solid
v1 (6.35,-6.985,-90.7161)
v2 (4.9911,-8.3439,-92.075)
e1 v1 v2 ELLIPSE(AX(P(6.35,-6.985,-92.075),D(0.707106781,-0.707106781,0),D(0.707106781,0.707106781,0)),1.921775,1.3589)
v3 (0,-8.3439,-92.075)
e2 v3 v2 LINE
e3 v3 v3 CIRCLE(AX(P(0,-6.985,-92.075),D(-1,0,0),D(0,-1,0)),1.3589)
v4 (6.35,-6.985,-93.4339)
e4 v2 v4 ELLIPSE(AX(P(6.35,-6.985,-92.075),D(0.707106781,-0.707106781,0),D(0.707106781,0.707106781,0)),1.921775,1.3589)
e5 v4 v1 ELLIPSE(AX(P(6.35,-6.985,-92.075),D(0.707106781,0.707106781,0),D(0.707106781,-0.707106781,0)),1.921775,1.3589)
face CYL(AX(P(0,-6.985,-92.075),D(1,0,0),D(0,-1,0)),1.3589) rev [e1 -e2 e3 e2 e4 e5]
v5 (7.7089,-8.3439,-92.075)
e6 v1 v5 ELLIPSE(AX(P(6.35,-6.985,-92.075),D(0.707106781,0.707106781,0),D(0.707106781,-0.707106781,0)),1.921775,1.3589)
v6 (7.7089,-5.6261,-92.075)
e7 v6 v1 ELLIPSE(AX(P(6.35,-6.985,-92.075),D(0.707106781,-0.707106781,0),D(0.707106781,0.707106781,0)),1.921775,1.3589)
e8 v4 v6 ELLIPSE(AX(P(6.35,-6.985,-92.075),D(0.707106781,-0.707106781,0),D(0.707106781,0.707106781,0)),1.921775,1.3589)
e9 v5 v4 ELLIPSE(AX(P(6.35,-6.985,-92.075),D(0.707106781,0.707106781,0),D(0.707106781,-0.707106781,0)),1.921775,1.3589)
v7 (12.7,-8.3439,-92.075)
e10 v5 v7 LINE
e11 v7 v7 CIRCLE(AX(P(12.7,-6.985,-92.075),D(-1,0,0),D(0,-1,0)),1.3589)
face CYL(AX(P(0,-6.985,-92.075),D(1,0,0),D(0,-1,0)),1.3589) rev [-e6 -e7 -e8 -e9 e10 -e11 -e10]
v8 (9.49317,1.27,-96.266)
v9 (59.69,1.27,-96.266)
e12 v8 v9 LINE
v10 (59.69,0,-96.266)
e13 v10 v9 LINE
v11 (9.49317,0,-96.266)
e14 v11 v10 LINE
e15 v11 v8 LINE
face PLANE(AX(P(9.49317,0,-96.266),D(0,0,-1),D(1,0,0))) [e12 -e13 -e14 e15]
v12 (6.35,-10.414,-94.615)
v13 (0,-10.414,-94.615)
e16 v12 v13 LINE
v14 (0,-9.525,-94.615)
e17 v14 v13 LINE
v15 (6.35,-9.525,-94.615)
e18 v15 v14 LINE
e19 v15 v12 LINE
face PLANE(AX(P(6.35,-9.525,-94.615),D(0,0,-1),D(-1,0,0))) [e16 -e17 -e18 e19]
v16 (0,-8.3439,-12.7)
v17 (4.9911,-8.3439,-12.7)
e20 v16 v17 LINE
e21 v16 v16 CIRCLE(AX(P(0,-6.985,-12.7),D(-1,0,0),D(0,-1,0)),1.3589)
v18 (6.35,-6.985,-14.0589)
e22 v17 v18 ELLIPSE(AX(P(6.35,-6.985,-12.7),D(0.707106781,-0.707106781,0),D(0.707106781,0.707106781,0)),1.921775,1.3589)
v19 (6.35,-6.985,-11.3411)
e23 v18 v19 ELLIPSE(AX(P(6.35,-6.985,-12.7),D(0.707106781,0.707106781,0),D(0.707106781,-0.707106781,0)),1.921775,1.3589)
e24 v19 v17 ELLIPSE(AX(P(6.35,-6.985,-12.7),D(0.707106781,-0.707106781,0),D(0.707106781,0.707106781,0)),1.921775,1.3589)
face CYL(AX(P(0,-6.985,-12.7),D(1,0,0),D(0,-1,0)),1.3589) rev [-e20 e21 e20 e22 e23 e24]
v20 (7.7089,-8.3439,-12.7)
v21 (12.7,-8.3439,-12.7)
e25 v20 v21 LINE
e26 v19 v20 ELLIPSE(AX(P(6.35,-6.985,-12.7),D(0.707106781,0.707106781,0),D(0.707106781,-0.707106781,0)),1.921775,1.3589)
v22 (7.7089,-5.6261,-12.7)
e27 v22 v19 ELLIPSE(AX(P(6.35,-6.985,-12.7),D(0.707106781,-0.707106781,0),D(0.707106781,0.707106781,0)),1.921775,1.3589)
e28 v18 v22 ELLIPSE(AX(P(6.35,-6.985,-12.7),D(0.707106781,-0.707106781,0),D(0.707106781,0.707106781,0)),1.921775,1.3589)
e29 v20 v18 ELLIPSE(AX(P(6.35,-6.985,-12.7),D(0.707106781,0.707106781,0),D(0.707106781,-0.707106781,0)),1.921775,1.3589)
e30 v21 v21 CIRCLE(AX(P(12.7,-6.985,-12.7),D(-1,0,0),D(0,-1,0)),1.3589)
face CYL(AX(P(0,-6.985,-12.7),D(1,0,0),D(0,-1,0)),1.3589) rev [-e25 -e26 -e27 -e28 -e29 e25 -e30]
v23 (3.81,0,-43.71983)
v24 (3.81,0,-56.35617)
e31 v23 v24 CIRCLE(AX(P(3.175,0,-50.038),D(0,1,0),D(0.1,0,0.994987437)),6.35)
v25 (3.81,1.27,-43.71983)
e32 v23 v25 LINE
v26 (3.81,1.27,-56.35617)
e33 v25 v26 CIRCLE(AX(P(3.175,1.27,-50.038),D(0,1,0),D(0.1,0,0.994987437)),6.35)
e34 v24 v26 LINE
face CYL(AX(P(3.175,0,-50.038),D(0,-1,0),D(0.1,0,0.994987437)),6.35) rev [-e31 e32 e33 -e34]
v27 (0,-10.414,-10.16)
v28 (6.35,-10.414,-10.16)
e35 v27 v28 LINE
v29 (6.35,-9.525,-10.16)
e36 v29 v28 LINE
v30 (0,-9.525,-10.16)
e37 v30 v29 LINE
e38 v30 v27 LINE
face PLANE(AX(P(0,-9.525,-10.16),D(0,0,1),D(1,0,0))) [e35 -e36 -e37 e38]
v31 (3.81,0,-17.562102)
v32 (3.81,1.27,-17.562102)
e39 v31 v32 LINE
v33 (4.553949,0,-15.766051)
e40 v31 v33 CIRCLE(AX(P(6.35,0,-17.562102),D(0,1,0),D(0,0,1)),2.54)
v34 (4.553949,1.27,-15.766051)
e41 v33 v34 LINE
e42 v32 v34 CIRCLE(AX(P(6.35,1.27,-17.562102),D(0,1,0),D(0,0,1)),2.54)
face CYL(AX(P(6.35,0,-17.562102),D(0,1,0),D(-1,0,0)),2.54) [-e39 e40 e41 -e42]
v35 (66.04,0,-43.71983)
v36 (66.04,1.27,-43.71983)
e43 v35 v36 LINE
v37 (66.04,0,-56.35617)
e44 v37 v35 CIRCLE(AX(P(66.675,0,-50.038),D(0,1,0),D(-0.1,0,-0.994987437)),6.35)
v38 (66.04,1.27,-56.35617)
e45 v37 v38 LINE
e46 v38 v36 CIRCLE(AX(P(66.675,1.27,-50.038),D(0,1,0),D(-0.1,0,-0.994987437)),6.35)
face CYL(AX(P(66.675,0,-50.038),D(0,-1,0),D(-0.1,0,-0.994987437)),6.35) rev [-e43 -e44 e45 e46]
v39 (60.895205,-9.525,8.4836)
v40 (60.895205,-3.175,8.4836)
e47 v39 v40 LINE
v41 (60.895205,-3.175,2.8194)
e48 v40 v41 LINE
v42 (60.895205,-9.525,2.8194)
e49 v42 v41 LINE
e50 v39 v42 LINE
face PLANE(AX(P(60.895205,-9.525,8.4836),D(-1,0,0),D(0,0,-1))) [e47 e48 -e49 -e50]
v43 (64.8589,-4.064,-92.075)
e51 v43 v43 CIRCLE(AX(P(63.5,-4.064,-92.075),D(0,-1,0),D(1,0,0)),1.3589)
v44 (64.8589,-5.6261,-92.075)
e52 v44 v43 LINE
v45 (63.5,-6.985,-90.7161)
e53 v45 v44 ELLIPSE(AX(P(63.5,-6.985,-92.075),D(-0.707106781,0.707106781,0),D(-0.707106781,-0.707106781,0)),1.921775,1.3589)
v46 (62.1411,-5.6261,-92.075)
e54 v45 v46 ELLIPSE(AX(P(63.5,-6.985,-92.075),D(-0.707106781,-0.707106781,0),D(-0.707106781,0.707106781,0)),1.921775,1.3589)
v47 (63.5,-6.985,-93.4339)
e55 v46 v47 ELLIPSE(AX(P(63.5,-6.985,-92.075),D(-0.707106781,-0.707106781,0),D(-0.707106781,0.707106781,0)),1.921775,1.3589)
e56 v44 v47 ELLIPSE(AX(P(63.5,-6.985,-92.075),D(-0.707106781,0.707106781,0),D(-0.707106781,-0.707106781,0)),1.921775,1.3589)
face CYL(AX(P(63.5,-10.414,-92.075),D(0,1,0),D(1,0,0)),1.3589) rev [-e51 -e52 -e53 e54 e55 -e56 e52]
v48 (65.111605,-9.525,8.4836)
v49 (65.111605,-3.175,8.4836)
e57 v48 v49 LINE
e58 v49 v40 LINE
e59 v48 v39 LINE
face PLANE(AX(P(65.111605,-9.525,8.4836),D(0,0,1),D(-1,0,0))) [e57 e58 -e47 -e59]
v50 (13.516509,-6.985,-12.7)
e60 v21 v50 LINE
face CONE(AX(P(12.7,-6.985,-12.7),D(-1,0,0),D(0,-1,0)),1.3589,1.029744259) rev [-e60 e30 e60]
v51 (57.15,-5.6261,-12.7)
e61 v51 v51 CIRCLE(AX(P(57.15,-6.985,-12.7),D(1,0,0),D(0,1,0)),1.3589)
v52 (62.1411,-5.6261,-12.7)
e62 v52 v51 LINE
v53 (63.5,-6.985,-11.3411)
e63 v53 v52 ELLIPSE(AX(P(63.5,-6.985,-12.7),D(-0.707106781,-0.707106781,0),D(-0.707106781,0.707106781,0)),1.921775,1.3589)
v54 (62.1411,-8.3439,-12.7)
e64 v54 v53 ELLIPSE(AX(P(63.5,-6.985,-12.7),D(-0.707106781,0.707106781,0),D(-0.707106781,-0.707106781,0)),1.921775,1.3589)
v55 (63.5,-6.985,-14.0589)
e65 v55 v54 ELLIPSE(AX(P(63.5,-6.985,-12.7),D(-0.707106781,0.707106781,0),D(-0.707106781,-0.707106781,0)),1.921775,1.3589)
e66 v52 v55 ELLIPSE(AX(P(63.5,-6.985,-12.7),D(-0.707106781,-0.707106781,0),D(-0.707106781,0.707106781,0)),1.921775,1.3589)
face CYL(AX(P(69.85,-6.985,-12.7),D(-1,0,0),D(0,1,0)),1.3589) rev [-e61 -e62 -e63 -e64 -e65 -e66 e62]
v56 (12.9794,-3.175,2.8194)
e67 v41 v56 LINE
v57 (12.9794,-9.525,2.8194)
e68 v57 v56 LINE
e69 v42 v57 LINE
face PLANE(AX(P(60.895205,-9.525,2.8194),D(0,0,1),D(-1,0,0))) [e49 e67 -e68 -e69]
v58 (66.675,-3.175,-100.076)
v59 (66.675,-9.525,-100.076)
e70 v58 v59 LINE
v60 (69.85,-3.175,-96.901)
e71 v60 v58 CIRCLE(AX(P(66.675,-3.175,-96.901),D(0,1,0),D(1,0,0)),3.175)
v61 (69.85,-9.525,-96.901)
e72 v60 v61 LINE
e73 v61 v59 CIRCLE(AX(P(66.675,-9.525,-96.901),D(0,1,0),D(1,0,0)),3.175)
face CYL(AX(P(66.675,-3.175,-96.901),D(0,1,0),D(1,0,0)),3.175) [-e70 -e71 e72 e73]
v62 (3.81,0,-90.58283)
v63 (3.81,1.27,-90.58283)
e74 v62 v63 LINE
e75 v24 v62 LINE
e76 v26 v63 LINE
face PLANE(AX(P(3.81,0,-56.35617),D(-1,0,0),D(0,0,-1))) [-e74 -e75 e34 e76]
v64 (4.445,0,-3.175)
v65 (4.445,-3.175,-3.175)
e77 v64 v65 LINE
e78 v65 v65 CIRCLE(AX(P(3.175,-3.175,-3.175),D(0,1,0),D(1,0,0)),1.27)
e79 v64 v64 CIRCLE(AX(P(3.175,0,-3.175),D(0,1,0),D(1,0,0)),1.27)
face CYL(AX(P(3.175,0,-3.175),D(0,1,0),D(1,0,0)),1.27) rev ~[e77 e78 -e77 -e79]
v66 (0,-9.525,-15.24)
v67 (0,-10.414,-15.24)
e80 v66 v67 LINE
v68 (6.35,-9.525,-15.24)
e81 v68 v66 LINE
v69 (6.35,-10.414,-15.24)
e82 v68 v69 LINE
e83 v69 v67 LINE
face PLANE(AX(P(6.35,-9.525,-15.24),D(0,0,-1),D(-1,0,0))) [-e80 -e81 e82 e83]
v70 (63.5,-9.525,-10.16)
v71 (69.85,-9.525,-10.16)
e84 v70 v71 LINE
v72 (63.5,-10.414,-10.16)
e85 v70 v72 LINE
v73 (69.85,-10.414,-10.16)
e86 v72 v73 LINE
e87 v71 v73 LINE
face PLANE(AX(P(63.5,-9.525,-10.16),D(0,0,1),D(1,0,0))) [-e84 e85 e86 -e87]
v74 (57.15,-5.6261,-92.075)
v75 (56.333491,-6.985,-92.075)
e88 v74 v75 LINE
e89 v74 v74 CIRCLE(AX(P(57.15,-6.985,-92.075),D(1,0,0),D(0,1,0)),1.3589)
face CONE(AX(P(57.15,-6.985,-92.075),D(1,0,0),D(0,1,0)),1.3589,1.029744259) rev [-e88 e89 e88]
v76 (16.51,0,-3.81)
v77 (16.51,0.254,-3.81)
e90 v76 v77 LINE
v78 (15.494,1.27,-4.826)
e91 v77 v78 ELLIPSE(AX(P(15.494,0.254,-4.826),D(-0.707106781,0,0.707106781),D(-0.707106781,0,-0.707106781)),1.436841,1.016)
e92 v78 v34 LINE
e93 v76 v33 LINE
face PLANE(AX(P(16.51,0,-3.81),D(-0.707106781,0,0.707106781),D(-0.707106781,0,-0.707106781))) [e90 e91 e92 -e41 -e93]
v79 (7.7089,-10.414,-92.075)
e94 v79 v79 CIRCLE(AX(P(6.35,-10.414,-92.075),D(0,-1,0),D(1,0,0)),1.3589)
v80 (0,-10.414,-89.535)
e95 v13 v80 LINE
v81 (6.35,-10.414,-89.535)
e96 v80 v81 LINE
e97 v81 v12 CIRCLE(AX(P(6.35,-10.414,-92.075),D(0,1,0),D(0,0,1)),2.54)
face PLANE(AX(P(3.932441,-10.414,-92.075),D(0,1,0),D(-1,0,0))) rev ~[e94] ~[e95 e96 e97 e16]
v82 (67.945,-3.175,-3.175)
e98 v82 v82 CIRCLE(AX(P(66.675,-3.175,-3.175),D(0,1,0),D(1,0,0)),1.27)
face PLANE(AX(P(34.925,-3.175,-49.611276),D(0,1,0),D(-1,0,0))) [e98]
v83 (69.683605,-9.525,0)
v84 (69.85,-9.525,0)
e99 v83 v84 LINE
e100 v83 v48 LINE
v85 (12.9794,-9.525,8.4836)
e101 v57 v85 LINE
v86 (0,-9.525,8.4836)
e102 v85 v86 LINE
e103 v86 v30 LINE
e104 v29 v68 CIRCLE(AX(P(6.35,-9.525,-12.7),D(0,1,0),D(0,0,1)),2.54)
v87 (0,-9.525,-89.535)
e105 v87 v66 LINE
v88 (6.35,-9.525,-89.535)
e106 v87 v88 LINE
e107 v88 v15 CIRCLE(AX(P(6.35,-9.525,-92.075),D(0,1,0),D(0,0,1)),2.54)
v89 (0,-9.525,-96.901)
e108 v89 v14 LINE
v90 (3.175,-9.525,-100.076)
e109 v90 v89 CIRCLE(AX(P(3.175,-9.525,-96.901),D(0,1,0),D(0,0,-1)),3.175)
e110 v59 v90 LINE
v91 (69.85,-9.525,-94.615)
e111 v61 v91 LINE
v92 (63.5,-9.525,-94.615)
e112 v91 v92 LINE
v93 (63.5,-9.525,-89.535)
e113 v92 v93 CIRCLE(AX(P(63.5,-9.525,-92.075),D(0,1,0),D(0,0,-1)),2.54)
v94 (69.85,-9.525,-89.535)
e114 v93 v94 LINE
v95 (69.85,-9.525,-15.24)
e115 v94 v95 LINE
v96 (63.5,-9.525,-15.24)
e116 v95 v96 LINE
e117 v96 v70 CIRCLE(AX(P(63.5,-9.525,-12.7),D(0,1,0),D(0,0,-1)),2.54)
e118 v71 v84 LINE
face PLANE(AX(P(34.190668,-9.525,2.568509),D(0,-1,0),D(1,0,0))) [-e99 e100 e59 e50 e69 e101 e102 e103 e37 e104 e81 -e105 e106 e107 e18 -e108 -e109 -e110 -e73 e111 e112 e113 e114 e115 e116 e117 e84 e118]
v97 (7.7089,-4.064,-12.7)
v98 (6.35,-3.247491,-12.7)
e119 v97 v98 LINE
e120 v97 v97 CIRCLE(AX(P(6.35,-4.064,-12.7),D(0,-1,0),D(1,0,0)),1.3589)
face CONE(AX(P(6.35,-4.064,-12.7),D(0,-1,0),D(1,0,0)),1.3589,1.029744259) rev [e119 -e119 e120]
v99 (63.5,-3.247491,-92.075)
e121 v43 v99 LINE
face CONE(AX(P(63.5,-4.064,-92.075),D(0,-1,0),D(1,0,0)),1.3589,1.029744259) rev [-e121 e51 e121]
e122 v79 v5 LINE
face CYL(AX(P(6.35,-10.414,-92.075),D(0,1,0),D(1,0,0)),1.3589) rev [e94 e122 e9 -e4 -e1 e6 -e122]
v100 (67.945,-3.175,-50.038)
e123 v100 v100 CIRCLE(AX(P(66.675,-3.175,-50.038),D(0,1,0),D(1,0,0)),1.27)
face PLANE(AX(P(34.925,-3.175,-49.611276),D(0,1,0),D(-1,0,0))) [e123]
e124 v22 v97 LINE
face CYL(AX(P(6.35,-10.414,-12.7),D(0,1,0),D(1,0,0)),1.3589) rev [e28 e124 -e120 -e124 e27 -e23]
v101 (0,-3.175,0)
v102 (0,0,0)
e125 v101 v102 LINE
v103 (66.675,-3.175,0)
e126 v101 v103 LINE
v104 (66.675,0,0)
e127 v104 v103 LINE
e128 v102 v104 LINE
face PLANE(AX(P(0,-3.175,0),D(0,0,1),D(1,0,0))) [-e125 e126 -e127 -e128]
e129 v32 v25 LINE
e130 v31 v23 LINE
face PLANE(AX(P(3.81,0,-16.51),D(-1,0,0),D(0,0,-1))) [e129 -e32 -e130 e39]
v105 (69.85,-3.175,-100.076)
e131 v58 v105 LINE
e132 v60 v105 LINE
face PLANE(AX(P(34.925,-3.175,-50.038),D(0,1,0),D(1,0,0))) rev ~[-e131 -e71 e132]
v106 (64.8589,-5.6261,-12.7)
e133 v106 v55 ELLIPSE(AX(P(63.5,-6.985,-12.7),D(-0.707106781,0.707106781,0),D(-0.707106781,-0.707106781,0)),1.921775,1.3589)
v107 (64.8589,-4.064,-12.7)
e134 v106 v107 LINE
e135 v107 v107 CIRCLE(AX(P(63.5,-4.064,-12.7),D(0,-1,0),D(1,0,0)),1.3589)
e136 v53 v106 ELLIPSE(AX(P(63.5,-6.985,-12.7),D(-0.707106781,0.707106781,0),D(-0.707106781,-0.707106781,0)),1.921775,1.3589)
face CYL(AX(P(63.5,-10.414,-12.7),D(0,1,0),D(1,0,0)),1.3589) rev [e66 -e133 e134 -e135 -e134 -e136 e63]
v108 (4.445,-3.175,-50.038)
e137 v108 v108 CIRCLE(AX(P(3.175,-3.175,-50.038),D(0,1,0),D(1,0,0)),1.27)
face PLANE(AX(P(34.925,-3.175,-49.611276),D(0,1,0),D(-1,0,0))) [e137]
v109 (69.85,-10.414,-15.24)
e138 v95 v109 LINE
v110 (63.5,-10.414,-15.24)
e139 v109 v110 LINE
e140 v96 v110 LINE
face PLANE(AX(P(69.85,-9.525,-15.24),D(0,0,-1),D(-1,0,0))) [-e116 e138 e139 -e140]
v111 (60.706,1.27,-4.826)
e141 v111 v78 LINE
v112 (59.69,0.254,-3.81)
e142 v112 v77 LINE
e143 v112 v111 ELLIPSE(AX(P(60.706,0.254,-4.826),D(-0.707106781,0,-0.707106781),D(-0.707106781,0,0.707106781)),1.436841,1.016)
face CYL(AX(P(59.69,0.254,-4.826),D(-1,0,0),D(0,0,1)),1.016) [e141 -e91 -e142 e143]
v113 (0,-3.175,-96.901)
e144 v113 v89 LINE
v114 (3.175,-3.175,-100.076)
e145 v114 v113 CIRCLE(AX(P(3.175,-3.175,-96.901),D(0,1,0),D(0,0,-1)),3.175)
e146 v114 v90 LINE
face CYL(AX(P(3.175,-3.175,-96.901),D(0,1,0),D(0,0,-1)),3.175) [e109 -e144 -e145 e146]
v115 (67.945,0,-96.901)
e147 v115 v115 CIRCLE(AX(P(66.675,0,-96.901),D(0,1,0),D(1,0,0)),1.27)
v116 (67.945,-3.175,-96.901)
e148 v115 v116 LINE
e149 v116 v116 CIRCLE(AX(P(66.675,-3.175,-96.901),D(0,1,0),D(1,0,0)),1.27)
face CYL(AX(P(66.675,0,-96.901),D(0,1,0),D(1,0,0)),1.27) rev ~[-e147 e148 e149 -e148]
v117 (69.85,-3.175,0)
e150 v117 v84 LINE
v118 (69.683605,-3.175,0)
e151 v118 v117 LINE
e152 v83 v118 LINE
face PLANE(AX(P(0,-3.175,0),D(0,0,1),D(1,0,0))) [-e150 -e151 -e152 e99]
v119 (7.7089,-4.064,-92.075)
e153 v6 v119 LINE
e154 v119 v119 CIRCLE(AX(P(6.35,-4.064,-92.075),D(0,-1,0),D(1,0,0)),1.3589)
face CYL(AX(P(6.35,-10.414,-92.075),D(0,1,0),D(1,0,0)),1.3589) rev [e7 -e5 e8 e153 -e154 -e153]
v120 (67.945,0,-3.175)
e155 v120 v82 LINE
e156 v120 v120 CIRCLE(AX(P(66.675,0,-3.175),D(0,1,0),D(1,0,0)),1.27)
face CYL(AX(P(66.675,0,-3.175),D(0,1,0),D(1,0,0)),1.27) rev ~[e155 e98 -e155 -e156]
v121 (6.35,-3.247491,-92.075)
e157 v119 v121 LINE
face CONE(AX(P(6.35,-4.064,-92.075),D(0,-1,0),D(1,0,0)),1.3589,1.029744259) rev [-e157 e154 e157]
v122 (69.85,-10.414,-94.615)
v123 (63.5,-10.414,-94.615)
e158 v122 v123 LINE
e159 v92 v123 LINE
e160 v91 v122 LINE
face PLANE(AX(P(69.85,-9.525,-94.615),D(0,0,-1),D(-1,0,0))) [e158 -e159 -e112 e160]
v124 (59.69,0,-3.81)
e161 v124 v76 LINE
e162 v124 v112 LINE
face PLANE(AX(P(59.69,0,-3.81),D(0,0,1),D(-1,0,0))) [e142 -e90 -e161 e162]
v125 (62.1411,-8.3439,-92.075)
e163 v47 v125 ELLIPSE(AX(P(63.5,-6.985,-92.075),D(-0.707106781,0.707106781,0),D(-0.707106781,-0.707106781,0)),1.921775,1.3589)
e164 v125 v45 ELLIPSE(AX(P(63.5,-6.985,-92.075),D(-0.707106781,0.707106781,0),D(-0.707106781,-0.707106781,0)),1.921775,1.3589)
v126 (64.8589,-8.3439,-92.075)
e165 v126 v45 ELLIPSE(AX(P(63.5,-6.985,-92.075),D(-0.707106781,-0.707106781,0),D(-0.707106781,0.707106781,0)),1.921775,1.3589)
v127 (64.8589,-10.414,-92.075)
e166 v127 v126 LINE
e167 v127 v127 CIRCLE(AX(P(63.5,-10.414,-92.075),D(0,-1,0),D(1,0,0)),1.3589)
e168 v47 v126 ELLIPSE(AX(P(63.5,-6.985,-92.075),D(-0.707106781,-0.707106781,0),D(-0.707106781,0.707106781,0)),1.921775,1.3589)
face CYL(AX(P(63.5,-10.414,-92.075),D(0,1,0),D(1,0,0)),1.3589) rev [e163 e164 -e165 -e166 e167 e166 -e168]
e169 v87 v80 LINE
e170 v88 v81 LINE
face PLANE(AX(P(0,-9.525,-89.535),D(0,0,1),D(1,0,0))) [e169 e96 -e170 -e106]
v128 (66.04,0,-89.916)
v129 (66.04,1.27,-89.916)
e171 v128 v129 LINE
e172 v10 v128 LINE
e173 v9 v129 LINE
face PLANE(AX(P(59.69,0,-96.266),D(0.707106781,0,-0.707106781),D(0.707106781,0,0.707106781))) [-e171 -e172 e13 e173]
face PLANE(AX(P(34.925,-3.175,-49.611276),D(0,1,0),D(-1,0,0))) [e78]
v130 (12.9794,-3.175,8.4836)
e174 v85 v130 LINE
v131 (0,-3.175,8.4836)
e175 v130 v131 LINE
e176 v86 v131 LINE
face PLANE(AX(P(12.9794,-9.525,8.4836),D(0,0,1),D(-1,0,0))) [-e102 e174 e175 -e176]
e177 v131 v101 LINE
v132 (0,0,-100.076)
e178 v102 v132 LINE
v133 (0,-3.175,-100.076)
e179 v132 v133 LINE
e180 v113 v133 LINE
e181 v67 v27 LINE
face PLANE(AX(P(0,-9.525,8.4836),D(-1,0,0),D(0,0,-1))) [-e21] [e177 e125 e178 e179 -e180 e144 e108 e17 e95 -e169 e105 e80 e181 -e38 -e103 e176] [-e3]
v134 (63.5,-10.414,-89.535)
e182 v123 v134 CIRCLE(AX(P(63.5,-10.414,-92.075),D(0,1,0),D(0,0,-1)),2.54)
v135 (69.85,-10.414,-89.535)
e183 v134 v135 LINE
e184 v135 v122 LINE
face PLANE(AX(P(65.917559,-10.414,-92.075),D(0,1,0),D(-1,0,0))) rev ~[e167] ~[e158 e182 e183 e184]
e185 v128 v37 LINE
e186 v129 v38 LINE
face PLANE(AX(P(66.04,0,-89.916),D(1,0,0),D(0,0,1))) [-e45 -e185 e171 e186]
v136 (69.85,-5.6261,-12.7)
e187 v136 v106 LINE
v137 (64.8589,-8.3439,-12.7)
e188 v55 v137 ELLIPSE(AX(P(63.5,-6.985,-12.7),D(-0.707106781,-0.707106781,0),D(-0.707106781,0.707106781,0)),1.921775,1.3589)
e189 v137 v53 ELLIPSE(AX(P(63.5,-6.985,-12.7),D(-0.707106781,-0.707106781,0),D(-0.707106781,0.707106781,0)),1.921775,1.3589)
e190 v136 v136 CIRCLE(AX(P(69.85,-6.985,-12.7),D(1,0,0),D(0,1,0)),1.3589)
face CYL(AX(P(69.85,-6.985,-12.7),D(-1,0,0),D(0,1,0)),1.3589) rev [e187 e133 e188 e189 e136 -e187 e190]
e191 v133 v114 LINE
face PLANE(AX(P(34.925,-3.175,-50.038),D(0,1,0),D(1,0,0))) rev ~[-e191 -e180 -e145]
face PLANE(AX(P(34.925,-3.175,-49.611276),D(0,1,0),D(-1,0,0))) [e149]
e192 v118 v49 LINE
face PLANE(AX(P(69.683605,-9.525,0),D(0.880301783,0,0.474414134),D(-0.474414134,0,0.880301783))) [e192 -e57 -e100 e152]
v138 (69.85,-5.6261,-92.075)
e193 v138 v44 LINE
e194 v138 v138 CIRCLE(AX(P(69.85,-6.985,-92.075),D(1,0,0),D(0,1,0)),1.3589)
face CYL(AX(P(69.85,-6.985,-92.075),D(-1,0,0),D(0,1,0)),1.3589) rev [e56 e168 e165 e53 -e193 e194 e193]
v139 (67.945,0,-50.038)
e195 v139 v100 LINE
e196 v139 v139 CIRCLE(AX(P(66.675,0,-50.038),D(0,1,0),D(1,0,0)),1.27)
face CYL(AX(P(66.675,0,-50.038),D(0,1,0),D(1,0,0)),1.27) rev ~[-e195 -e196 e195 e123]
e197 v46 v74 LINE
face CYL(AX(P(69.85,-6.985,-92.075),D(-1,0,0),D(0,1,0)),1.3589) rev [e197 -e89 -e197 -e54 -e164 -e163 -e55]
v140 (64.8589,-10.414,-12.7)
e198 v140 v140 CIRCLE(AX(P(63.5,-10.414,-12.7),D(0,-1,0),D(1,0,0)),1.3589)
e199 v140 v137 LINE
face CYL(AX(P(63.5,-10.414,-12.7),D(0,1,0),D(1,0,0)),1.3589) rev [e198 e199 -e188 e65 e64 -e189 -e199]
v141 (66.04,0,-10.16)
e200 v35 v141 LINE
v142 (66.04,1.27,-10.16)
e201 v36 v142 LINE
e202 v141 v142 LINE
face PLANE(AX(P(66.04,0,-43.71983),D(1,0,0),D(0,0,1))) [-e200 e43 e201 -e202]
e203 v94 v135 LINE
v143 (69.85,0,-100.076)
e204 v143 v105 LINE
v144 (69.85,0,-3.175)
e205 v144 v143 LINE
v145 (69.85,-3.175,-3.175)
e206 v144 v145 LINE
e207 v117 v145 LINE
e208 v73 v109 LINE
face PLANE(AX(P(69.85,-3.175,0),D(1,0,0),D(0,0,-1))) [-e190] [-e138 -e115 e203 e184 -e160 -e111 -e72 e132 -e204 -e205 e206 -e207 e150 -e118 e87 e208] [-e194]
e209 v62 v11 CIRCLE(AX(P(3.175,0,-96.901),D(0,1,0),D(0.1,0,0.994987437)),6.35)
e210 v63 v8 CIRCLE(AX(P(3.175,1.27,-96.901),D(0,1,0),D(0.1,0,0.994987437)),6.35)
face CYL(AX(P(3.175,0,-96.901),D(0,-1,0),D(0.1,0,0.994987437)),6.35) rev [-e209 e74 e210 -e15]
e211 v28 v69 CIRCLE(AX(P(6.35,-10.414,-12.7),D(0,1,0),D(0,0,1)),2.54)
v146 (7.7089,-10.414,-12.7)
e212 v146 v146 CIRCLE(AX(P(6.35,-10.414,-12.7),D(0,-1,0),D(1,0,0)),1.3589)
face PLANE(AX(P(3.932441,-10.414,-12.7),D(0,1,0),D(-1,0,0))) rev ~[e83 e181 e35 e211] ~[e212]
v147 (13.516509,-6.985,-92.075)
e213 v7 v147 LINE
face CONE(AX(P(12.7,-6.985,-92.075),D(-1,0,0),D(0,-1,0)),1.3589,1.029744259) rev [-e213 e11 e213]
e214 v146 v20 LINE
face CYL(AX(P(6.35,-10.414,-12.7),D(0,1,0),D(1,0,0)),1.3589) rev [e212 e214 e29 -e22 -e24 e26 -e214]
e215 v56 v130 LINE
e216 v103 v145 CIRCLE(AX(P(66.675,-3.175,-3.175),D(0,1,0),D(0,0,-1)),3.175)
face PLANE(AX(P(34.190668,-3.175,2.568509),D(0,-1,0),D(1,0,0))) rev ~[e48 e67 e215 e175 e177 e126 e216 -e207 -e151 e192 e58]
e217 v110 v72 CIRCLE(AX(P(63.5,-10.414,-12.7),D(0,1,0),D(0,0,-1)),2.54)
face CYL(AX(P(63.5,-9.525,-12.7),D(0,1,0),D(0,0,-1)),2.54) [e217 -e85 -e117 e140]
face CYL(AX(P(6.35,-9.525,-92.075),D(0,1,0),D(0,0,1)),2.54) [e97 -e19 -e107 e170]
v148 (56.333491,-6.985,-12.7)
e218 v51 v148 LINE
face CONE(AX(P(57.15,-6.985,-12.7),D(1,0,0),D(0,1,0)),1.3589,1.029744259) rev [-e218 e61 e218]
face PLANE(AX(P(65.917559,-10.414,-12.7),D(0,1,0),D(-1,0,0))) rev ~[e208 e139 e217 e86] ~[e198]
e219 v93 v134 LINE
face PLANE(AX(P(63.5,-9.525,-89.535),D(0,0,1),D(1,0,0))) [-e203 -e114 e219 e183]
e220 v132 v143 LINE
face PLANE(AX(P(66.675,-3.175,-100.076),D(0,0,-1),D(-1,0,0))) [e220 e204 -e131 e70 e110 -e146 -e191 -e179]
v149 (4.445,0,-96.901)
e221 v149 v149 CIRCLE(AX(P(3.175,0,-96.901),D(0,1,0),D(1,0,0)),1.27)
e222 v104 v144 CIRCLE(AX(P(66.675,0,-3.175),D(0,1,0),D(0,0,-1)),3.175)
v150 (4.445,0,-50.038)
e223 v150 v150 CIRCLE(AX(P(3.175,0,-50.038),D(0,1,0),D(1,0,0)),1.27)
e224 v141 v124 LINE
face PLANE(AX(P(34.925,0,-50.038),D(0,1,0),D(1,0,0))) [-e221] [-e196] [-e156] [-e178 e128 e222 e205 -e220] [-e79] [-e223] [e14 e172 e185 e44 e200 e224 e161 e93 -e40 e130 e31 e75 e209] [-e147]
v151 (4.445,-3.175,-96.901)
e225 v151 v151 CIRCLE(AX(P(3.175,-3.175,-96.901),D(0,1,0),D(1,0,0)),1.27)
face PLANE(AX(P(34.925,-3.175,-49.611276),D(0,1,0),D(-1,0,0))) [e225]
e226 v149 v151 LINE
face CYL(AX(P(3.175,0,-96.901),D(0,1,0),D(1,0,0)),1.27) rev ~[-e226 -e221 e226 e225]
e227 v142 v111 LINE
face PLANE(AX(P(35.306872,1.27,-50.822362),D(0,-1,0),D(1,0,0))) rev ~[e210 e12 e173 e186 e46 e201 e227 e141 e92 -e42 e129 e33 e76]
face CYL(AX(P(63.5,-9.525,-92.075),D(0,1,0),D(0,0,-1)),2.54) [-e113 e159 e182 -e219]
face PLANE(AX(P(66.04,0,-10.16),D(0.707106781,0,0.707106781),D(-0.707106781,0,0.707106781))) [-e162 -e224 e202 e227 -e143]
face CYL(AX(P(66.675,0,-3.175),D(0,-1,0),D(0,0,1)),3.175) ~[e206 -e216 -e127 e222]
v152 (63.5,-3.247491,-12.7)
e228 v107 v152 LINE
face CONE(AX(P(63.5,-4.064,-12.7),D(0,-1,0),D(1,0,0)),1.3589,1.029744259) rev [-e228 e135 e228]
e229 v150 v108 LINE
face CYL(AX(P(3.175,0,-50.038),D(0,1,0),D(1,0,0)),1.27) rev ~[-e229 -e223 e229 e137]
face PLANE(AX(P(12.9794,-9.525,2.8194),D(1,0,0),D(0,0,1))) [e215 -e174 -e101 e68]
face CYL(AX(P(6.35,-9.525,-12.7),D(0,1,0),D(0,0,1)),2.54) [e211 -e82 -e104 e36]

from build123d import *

# Parameters (mm, degrees)
S2D0001_W           = 69.85
S2D0001_H           = 100.076
BOSS_EXTRUDE1_DEPTH = 3.175
FILLET1_R           = 3.175
S2D0002_R           = 1.27
CUT_EXTRUDE1_DEPTH  = 3.4925
BOSS_EXTRUDE2_DEPTH = 1.27
FILLET2_R           = 2.54
FILLET3_R           = 1.016
BOSS_EXTRUDE3_DEPTH = 6.35
S2D0005_W           = 5.08
S2D0005_H           = 6.35
BOSS_EXTRUDE4_DEPTH = 69.85
BOSS_EXTRUDE5_DEPTH = 0.889
BOSS_EXTRUDE6_DEPTH = 6.35


with BuildPart() as part:
    # S2D0001 → Boss-Extrude1 (new body)
    with BuildSketch(Plane(origin=(0, 0, 0), x_dir=(1, 0, 0), z_dir=(0, 1, 0))):
        with Locations((34.925, 50.038)):
            Rectangle(S2D0001_W, S2D0001_H)
    extrude(amount=-BOSS_EXTRUDE1_DEPTH)

    # Fillet1
    fillet1_edges = [part.edges().sort_by_distance(p)[0] for p in [
        (69.85, -1.5875, 0),
    ]]
    fillet(fillet1_edges, radius=FILLET1_R)

    # S2D0002 → Cut-Extrude1 (cut)
    with BuildSketch(Plane(origin=(0, 0, 0), x_dir=(1, 0, 0), z_dir=(0, 1, 0))):
        with Locations((3.175, 96.901)):
            Circle(S2D0002_R)
        with Locations((66.675, 96.901)):
            Circle(S2D0002_R)
        with Locations((3.175, 50.038)):
            Circle(S2D0002_R)
        with Locations((66.675, 50.038)):
            Circle(S2D0002_R)
        with Locations((3.175, 3.175)):
            Circle(S2D0002_R)
        with Locations((66.675, 3.175)):
            Circle(S2D0002_R)
    extrude(amount=-CUT_EXTRUDE1_DEPTH, mode=Mode.SUBTRACT)

    # Sketch3 → Boss-Extrude2 (add)
    with BuildSketch(Plane(origin=(0, 0, 0), x_dir=(-1, 0, 0), z_dir=(0, 1, 0))):
        with BuildLine():
            Line((-9.493170226, -96.266), (-59.69, -96.266))
            Line((-59.69, -96.266), (-66.04, -89.916))
            Line((-66.04, -89.916), (-66.04, -56.356170226))
            ThreePointArc((-66.04, -56.356170226), (-60.325, -50.038), (-66.04, -43.719829774))
            Line((-66.04, -43.719829774), (-66.04, -10.16))
            Line((-66.04, -10.16), (-59.69, -3.81))
            Line((-59.69, -3.81), (-16.51, -3.81))
            Line((-16.51, -3.81), (-3.81, -16.51))
            Line((-3.81, -16.51), (-3.81, -43.719829774))
            ThreePointArc((-3.81, -43.719829774), (-9.525, -50.038), (-3.81, -56.356170226))
            Line((-3.81, -56.356170226), (-3.81, -90.582829774))
            ThreePointArc((-3.81, -90.582829774), (-7.665128061, -92.410871939), (-9.493170226, -96.266))
        make_face()
    extrude(amount=BOSS_EXTRUDE2_DEPTH)

    # Fillet2
    fillet2_edges = [part.edges().sort_by_distance(p)[0] for p in [
        (3.81, 0.635, -16.51),
    ]]
    fillet(fillet2_edges, radius=FILLET2_R)

    # Fillet3
    fillet3_edges = [part.edges().sort_by_distance(p)[0] for p in [
        (38.1, 1.27, -3.81),
    ]]
    fillet(fillet3_edges, radius=FILLET3_R)

    # Sketch4 → Boss-Extrude3 (add)
    with BuildSketch(Plane.XZ.offset(3.175)):
        with BuildLine():
            Line((0, -96.901), (0, 0))
            Line((0, 0), (69.85, 0))
            Line((69.85, 0), (69.85, -96.901))
            ThreePointArc((69.85, -96.901), (68.92006403, -99.14606403), (66.675, -100.076))
            Line((66.675, -100.076), (3.175, -100.076))
            ThreePointArc((3.175, -100.076), (0.92993597, -99.14606403), (0, -96.901))
        make_face()
    extrude(amount=BOSS_EXTRUDE3_DEPTH)

    # S2D0005 → Boss-Extrude4 (add)
    with BuildSketch(Plane(origin=(0, 0, 0), x_dir=(0, 0, -1), z_dir=(1, 0, 0))):
        with Locations((12.7, -6.35)):
            Rectangle(S2D0005_W, S2D0005_H)
        with Locations((92.075, -6.35)):
            Rectangle(S2D0005_W, S2D0005_H)
    extrude(amount=BOSS_EXTRUDE4_DEPTH)

    # S2D0007 one side → Cut-Revolve1 (revolve, cut)
    with BuildSketch(Plane(origin=(12.7, -5.6261, -92.075), x_dir=(0, 1, 0), z_dir=(0, 0, 1))):
        Polygon((-2.7178, 0), (-1.3589, -0.816509495), (-1.3589, 12.7), (-2.7178, 12.7), align=None)
    revolve(axis=Axis((14.19233497, -6.985, -92.075), (-1, 0, 0)), mode=Mode.SUBTRACT)

    # Sketch7 one side → Cut-Revolve2 (revolve, cut)
    with BuildSketch(Plane(origin=(12.7, -5.6261, -12.7), x_dir=(0, 1, 0), z_dir=(0, 0, 1))):
        Polygon((-2.7178, 0), (-1.3589, -0.816509495), (-1.3589, 12.7), (-2.7178, 12.7), align=None)
    revolve(axis=Axis((14.19233497, -6.985, -12.7), (-1, 0, 0)), mode=Mode.SUBTRACT)

    # S2D0008 one side → Cut-Revolve3 (revolve, cut)
    with BuildSketch(Plane(origin=(57.15, -8.3439, -12.7), x_dir=(0, -1, 0), z_dir=(0, 0, 1))):
        Polygon((-2.7178, 0), (-1.3589, -0.816509495), (-1.3589, 12.7), (-2.7178, 12.7), align=None)
    revolve(axis=Axis((55.65766503, -6.985, -12.7), (1, 0, 0)), mode=Mode.SUBTRACT)

    # S2D0009 one side → Cut-Revolve4 (revolve, cut)
    with BuildSketch(Plane(origin=(57.15, -8.3439, -92.075), x_dir=(0, -1, 0), z_dir=(0, 0, 1))):
        Polygon((-2.7178, 0), (-1.3589, -0.816509495), (-1.3589, 12.7), (-2.7178, 12.7), align=None)
    revolve(axis=Axis((55.65766503, -6.985, -92.075), (1, 0, 0)), mode=Mode.SUBTRACT)

    # Sketch10 → Boss-Extrude5 (add)
    with BuildSketch(Plane.XZ.offset(9.525)):
        with BuildLine():
            Line((0, -94.615), (0, -89.535))
            Line((0, -89.535), (6.35, -89.535))
            ThreePointArc((6.35, -89.535), (8.89, -92.075), (6.35, -94.615))
            Line((6.35, -94.615), (0, -94.615))
        make_face()
        with BuildLine():
            Line((0, -15.24), (0, -10.16))
            Line((0, -10.16), (6.35, -10.16))
            ThreePointArc((6.35, -10.16), (8.89, -12.7), (6.35, -15.24))
            Line((6.35, -15.24), (0, -15.24))
        make_face()
        with BuildLine():
            Line((69.85, -10.16), (69.85, -15.24))
            Line((69.85, -15.24), (63.5, -15.24))
            ThreePointArc((63.5, -15.24), (60.96, -12.7), (63.5, -10.16))
            Line((63.5, -10.16), (69.85, -10.16))
        make_face()
        with BuildLine():
            Line((69.85, -89.535), (69.85, -94.615))
            Line((69.85, -94.615), (63.5, -94.615))
            ThreePointArc((63.5, -94.615), (60.96, -92.075), (63.5, -89.535))
            Line((63.5, -89.535), (69.85, -89.535))
        make_face()
    extrude(amount=BOSS_EXTRUDE5_DEPTH)

    # S2D0019 one side → Cut-Revolve5 (revolve, cut)
    with BuildSketch(Plane(origin=(4.9911, -4.064, -92.075), x_dir=(-1, 0, 0), z_dir=(0, 0, 1))):
        Polygon((-2.7178, 0), (-1.3589, -0.816509495), (-1.3589, 6.35), (-2.7178, 6.35), align=None)
    revolve(axis=Axis((6.35, -2.88916503, -92.075), (0, -1, 0)), mode=Mode.SUBTRACT)

    # Sketch12 one side → Cut-Revolve6 (revolve, cut)
    with BuildSketch(Plane(origin=(62.1411, -4.064, -92.075), x_dir=(-1, 0, 0), z_dir=(0, 0, 1))):
        Polygon((-2.7178, 0), (-1.3589, -0.816509495), (-1.3589, 6.35), (-2.7178, 6.35), align=None)
    revolve(axis=Axis((63.5, -2.88916503, -92.075), (0, -1, 0)), mode=Mode.SUBTRACT)

    # S2D0021 one side → Cut-Revolve7 (revolve, cut)
    with BuildSketch(Plane(origin=(62.1411, -4.064, -12.7), x_dir=(-1, 0, 0), z_dir=(0, 0, 1))):
        Polygon((-2.7178, 0), (-1.3589, -0.816509495), (-1.3589, 6.35), (-2.7178, 6.35), align=None)
    revolve(axis=Axis((63.5, -2.88916503, -12.7), (0, -1, 0)), mode=Mode.SUBTRACT)

    # Sketch14 one side → Cut-Revolve8 (revolve, cut)
    with BuildSketch(Plane(origin=(4.9911, -4.064, -12.7), x_dir=(-1, 0, 0), z_dir=(0, 0, 1))):
        Polygon((-2.7178, 0), (-1.3589, -0.816509495), (-1.3589, 6.35), (-2.7178, 6.35), align=None)
    revolve(axis=Axis((6.35, -2.88916503, -12.7), (0, -1, 0)), mode=Mode.SUBTRACT)

    # Sketch15 → Boss-Extrude6 (add)
    with BuildSketch(Plane.XZ.offset(9.525)):
        Polygon((69.683605301, 0), (65.111605301, 8.4836), (60.895205301, 8.4836), (60.895205301, 2.8194), (12.9794, 2.8194), (12.9794, 8.4836), (0, 8.4836), (0, 0), align=None)
    extrude(amount=-BOSS_EXTRUDE6_DEPTH)


solid = part.part
